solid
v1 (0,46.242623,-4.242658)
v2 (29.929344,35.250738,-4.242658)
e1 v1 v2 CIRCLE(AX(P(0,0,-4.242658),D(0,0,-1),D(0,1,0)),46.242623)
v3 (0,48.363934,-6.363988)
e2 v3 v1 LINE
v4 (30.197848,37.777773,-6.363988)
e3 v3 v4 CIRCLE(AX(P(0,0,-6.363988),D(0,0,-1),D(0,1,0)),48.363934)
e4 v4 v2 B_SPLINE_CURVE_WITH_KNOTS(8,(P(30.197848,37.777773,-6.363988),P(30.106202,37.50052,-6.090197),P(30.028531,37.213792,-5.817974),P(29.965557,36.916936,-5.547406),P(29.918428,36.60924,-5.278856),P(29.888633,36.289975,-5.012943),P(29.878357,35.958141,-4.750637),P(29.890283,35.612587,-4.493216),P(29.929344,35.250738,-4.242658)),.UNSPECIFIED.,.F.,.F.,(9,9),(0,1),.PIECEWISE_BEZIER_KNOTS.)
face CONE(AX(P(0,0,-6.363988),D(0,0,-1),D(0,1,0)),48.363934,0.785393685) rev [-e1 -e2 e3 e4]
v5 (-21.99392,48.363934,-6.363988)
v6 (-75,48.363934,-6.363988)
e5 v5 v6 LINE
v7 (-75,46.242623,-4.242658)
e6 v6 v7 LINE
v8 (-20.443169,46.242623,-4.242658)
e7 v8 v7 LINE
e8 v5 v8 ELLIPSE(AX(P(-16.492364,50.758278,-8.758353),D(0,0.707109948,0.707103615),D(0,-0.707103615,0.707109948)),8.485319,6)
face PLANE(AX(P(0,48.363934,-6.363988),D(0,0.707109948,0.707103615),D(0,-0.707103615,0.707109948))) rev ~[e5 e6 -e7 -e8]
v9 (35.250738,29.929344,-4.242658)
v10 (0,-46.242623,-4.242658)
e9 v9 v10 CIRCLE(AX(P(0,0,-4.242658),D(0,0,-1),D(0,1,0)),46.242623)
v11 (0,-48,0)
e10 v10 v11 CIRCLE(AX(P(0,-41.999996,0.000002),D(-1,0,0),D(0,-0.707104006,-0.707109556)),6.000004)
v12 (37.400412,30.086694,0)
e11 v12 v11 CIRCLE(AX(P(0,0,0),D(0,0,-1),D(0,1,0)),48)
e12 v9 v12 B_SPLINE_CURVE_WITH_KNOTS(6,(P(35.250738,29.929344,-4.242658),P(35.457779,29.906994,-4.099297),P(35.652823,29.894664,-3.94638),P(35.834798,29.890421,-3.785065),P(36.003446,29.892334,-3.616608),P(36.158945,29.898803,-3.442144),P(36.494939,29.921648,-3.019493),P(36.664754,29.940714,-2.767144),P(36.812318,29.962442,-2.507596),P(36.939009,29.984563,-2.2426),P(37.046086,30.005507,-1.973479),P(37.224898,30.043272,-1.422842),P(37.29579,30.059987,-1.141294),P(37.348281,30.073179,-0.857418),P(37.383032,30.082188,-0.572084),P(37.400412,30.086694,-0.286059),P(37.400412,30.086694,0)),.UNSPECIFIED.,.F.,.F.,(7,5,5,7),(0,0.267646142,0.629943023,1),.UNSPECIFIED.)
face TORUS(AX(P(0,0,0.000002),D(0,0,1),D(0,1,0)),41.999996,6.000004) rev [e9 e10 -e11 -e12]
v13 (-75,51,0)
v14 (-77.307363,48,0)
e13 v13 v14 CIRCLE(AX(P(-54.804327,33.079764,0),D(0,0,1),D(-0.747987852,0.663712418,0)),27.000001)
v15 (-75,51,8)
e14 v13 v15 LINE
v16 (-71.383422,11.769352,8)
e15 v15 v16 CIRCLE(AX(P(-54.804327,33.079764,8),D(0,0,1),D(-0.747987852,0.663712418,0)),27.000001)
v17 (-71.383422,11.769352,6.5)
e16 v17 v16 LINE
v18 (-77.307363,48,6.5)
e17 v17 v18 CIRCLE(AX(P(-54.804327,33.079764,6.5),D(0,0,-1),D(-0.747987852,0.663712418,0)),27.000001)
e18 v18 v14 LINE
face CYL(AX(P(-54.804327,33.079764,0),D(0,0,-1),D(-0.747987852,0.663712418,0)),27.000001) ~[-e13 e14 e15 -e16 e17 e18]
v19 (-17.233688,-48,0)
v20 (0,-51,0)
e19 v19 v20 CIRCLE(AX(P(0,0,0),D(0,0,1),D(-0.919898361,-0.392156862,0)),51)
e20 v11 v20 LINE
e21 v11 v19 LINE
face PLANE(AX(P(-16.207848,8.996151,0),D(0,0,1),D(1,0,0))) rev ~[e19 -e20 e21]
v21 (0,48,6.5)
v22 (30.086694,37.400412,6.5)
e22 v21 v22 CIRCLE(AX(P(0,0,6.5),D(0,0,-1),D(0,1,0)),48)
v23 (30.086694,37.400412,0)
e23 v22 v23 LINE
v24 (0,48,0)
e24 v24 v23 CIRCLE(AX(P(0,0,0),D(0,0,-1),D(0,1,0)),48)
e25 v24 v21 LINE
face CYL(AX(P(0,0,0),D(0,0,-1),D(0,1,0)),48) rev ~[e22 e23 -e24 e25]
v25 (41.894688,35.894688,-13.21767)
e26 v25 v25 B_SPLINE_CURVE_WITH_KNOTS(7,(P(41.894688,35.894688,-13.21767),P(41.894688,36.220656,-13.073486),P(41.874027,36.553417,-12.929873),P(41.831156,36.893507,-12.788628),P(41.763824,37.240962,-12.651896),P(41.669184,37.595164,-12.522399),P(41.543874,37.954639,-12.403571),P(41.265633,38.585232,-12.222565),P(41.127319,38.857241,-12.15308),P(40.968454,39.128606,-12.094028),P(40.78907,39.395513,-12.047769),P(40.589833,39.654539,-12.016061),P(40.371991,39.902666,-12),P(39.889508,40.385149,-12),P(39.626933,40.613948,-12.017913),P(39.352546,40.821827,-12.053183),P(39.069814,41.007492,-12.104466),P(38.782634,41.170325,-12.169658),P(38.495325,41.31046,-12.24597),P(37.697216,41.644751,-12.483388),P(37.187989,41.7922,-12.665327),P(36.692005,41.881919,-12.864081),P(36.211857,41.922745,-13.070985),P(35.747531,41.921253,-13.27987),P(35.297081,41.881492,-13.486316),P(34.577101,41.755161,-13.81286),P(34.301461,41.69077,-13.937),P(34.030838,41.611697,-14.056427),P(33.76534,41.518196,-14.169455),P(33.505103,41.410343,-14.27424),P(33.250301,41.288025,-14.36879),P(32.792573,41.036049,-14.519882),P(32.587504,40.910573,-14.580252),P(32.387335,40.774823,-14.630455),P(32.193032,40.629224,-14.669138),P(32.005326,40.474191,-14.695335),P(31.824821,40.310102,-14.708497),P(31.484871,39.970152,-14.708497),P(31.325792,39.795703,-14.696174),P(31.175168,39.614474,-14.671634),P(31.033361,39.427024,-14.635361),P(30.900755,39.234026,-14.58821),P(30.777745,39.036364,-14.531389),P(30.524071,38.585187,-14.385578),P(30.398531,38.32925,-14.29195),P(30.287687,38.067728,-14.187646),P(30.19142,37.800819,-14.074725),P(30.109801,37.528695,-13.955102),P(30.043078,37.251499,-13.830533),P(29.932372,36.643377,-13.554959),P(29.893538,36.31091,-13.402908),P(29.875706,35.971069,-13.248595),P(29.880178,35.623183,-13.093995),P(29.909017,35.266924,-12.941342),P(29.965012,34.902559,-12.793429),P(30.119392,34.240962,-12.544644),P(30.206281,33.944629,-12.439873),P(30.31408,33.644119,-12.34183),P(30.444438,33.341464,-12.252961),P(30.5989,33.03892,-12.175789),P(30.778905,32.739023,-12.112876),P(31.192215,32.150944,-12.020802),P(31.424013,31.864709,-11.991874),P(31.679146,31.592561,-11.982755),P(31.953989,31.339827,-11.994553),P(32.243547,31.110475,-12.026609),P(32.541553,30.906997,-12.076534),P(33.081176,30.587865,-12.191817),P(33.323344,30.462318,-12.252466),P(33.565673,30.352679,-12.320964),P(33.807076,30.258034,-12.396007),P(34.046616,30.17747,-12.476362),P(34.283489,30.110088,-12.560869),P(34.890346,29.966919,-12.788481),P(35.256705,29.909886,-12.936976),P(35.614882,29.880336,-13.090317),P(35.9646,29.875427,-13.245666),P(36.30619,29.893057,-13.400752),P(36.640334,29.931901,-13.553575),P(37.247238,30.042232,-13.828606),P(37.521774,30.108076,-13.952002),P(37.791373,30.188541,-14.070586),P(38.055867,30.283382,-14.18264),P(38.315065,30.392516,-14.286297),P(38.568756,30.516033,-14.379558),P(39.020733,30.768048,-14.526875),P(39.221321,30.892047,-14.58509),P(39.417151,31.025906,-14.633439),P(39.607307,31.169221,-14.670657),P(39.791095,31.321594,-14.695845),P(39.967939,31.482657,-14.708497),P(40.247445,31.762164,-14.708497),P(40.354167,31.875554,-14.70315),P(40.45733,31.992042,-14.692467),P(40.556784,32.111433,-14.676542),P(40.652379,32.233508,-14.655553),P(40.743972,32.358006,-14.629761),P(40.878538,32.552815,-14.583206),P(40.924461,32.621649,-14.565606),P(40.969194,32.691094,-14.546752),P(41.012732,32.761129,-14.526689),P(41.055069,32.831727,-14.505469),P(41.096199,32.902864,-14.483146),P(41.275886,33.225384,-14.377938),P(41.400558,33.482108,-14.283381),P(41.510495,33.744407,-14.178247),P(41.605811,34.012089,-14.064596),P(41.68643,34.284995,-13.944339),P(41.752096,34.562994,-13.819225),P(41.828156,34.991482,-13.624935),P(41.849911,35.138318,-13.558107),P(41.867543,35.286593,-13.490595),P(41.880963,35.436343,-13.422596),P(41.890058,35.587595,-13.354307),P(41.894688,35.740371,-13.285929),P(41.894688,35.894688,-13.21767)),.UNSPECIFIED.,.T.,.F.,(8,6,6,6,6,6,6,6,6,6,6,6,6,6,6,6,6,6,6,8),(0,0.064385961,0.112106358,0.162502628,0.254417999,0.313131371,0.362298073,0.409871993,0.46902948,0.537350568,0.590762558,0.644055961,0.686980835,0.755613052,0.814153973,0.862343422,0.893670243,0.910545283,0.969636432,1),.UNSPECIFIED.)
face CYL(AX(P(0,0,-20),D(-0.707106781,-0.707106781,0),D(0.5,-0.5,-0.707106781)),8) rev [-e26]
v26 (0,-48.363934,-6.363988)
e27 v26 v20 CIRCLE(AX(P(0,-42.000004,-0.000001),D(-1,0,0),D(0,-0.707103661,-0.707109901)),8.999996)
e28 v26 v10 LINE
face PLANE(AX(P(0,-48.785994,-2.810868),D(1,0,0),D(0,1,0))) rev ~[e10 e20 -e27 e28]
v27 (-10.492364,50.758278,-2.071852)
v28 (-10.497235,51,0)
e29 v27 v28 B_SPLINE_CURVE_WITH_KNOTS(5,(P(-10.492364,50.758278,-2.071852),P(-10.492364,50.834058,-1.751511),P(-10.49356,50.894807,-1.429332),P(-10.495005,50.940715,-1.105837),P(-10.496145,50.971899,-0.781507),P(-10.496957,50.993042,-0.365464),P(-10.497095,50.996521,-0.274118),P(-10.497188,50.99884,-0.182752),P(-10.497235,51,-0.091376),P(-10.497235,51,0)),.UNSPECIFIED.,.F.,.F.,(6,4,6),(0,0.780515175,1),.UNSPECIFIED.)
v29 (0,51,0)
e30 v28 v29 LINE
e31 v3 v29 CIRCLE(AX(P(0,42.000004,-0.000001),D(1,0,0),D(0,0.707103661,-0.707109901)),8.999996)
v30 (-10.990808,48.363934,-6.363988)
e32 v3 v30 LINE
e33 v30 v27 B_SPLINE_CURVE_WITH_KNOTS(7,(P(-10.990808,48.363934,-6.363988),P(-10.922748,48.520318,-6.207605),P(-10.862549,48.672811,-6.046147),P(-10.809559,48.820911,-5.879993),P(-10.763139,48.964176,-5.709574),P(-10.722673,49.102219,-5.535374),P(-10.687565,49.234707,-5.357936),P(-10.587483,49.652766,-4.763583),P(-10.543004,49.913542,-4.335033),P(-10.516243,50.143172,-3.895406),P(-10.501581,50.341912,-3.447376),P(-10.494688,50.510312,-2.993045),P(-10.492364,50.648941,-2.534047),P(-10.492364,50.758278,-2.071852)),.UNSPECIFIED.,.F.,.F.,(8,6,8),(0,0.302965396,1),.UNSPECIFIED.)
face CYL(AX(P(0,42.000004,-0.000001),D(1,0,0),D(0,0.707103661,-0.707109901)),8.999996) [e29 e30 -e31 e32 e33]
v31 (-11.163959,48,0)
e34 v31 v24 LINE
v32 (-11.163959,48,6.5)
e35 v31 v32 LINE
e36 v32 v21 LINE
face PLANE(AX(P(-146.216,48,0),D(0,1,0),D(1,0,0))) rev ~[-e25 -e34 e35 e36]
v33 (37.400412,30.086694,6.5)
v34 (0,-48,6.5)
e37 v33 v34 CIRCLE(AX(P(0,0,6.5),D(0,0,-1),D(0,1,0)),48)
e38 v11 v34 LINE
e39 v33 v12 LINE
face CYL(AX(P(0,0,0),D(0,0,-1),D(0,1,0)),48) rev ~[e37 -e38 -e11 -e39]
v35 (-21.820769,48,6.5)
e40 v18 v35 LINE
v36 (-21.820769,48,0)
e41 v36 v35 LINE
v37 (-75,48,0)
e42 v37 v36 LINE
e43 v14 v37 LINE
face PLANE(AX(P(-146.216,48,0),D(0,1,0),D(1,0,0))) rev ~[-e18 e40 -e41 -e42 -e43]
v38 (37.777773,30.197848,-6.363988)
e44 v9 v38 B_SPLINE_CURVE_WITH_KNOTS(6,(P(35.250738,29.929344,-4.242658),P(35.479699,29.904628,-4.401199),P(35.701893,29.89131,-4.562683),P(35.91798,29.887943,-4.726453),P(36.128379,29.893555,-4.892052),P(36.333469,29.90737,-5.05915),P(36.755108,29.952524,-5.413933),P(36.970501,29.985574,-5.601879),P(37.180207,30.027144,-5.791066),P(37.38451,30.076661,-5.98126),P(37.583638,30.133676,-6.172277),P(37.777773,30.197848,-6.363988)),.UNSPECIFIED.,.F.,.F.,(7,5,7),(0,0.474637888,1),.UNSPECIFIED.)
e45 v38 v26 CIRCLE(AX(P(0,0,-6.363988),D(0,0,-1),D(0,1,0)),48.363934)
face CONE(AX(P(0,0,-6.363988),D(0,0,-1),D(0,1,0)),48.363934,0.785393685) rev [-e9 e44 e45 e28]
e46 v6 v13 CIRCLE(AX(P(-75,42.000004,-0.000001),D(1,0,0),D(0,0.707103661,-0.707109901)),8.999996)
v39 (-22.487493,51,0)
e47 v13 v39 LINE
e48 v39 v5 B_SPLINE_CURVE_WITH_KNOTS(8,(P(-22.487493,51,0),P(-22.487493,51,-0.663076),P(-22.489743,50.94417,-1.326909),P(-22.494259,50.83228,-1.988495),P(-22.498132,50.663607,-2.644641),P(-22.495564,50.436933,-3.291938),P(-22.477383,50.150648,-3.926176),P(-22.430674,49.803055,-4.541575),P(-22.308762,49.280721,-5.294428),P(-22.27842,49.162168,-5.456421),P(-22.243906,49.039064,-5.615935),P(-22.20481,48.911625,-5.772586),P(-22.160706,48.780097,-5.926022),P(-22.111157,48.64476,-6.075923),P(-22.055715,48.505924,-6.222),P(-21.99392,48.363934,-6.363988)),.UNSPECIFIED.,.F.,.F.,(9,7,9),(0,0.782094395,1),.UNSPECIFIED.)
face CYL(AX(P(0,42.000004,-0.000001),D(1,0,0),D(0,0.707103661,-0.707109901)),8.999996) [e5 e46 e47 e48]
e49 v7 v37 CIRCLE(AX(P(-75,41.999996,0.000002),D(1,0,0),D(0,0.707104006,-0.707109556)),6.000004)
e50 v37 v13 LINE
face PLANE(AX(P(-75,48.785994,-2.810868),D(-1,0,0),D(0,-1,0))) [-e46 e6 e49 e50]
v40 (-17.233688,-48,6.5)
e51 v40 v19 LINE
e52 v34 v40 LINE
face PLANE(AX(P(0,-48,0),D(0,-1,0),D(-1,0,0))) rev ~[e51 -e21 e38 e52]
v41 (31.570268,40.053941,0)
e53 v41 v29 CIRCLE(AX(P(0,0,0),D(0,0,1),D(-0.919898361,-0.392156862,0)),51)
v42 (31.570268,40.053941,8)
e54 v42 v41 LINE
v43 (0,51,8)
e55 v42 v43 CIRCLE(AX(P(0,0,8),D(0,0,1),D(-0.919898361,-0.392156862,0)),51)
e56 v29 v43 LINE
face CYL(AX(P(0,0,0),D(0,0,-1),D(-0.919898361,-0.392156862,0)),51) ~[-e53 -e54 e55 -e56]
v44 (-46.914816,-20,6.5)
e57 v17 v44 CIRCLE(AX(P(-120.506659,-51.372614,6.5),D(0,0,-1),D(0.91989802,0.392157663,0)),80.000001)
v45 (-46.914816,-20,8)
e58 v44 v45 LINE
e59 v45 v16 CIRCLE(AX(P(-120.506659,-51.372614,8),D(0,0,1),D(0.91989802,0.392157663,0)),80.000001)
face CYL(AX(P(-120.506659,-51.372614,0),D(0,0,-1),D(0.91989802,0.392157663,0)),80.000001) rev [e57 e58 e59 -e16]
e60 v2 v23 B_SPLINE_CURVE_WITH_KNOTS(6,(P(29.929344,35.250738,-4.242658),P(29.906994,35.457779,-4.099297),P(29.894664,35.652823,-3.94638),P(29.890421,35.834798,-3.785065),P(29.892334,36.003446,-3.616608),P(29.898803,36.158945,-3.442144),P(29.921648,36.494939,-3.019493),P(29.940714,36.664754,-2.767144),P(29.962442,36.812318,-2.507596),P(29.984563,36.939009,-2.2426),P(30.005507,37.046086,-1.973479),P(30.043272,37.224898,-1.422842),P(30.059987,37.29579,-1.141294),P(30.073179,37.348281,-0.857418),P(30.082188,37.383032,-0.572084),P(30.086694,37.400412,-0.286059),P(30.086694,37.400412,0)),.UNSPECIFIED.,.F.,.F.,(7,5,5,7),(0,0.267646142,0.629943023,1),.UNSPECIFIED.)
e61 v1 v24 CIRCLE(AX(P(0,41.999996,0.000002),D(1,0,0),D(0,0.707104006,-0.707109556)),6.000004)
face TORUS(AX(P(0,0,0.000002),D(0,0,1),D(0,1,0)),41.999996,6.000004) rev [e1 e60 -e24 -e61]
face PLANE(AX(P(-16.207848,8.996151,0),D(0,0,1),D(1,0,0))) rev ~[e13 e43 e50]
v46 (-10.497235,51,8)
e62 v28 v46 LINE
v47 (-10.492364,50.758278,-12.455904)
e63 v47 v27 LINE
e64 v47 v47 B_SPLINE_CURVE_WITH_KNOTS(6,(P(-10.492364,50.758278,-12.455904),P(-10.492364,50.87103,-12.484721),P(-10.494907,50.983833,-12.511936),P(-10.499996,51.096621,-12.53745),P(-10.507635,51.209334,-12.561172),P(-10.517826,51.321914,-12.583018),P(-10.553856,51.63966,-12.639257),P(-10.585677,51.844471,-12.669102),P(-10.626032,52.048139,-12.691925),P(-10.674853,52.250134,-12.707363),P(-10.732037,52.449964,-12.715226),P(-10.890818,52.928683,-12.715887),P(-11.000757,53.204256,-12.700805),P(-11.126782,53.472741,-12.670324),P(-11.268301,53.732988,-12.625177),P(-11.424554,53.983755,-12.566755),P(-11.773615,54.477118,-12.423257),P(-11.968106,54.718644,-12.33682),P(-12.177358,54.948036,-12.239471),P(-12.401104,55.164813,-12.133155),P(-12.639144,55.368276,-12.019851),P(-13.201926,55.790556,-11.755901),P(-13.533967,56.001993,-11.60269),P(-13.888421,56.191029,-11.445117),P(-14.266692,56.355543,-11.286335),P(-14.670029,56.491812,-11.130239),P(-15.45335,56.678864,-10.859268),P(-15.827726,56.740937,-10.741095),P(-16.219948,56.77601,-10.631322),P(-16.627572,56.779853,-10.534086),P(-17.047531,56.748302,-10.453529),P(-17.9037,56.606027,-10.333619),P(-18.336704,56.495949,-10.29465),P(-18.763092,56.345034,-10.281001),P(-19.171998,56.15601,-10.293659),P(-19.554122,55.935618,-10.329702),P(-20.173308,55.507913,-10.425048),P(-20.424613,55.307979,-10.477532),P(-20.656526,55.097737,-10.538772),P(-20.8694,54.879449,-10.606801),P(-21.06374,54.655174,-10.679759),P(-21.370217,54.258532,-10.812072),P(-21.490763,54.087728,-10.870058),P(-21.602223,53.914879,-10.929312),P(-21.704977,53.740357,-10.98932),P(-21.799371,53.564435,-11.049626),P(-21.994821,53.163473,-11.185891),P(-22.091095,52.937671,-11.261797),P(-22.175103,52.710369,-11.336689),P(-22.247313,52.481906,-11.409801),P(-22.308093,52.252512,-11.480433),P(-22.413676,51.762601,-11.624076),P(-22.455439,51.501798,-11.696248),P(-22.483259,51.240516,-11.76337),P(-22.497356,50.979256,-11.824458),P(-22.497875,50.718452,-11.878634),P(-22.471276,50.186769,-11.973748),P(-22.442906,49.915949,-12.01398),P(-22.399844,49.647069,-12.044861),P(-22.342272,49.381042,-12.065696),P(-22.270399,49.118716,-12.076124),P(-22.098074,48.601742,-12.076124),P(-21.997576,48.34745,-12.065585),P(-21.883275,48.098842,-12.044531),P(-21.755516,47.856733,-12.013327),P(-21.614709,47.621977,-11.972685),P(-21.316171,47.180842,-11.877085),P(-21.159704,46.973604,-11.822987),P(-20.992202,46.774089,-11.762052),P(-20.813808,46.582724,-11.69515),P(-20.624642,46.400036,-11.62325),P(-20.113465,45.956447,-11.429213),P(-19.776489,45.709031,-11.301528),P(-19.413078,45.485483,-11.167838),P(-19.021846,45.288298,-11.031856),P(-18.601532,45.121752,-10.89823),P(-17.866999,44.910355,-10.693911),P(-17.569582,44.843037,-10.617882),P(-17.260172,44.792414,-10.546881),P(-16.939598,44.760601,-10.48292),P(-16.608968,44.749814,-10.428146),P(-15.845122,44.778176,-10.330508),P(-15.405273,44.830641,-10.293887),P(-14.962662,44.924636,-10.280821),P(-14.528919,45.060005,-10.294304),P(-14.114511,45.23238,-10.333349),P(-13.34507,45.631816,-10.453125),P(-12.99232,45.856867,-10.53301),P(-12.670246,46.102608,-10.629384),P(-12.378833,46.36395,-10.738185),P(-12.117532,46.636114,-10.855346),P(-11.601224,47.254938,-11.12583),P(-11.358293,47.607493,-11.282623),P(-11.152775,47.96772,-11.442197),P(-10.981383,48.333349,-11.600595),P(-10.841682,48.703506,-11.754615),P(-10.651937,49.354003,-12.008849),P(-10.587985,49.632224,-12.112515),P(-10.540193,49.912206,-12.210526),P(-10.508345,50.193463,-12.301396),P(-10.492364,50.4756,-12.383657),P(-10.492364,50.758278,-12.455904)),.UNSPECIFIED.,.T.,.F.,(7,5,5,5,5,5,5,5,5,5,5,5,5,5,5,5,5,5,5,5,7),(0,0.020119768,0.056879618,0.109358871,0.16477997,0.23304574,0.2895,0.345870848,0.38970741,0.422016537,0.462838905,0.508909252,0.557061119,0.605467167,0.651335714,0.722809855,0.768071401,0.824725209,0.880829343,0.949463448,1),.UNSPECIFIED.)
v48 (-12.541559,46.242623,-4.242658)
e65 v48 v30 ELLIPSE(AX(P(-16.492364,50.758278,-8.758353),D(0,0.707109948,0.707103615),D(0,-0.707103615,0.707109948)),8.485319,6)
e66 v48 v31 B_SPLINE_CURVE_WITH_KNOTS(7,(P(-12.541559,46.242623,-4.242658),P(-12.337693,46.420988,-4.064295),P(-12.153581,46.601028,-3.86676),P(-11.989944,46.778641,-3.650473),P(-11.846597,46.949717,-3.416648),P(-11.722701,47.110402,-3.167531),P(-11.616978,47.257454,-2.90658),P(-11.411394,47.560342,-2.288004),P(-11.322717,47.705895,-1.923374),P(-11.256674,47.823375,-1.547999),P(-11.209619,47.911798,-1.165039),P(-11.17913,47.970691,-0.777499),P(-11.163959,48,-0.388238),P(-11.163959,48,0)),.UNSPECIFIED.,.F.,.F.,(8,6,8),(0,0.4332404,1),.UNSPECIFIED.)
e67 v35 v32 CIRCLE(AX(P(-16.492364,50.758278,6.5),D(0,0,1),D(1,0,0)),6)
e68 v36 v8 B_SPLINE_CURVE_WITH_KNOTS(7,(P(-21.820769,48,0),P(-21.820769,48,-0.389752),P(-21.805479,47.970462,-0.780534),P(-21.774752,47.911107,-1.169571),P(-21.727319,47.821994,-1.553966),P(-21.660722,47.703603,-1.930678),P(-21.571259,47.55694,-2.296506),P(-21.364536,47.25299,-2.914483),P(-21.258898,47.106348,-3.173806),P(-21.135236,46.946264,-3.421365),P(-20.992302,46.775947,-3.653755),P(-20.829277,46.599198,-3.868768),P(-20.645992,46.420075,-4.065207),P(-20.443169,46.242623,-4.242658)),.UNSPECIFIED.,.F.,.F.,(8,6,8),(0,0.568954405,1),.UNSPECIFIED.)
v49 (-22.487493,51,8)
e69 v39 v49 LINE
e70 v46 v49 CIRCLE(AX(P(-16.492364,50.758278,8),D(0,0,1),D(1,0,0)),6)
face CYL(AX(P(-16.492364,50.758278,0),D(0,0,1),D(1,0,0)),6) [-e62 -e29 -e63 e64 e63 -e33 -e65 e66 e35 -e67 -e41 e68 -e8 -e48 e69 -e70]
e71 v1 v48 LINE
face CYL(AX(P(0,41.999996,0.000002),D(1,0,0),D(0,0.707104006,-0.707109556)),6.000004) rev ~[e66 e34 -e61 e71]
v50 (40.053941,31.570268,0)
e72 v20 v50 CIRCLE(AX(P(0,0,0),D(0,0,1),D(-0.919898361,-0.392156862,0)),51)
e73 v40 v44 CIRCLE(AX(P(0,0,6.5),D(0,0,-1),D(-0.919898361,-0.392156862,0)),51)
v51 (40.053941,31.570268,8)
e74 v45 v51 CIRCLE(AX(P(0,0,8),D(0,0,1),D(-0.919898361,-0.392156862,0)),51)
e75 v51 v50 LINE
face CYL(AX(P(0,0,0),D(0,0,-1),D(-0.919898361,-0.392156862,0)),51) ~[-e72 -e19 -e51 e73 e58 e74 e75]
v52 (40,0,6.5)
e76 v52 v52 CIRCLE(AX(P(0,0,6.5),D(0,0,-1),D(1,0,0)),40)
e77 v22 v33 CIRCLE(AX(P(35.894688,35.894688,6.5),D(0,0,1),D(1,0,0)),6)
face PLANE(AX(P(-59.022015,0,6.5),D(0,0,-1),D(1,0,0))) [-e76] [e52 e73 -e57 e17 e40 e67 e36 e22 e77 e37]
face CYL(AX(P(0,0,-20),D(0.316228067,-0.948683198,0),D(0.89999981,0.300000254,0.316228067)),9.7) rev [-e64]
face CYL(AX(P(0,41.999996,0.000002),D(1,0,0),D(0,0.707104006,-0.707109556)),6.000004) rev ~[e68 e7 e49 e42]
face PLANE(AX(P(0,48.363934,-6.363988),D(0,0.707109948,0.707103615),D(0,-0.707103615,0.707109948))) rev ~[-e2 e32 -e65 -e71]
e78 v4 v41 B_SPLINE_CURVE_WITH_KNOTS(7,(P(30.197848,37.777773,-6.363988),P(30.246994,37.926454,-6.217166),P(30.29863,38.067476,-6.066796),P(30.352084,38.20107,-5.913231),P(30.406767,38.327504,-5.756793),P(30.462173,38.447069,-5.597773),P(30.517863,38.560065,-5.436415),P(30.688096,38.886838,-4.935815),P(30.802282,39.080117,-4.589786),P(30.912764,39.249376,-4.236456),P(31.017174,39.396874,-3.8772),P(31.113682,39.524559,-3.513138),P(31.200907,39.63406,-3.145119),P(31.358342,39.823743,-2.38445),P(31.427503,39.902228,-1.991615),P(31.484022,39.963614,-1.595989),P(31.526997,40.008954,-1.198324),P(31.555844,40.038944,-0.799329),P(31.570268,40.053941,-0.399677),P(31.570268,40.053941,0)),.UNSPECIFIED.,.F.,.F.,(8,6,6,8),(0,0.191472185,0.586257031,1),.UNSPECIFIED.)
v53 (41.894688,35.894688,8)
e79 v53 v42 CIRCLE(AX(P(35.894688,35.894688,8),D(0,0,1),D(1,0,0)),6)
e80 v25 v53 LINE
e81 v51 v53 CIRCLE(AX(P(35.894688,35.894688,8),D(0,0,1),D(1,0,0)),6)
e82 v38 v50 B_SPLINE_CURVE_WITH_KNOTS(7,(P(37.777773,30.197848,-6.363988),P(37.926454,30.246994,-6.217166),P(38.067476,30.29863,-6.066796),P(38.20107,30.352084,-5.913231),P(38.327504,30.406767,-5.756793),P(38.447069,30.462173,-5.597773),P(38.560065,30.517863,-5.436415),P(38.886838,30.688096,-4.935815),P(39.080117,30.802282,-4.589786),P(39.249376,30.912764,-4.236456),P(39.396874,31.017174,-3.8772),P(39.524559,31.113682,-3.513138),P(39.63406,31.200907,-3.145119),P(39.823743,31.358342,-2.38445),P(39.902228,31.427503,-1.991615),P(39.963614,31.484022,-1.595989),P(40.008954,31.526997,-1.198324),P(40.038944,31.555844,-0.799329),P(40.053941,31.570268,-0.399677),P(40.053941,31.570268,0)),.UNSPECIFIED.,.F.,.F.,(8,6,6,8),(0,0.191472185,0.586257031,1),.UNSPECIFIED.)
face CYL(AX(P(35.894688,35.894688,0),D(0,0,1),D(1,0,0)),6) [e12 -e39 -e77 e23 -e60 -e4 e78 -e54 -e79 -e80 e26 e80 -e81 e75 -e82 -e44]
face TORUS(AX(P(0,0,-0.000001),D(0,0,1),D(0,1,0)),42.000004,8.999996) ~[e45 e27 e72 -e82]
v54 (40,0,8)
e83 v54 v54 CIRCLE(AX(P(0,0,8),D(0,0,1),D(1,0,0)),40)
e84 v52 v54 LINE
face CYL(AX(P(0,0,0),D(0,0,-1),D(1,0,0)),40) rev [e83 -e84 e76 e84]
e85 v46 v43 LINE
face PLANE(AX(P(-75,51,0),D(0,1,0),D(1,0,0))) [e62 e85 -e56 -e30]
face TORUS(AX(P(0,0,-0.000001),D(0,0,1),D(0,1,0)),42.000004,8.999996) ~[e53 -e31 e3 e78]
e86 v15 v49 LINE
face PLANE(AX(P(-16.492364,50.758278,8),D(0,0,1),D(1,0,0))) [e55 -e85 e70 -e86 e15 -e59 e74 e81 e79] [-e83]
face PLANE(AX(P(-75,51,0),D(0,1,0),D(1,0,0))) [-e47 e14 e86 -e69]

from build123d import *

# Parameters (mm, degrees)
CYLINDER_R                  = 9.7
CYLINDER_DEPTH              = 100
CYLINDER_ROLL_ANGLE         = -90
CYLINDER_PITCH_ANGLE        = -18.434967
CYLINDER_PLACEMENT_ANGLE    = 18.434967
CYLINDER001_R               = 8
CYLINDER001_DEPTH           = 100
CYLINDER001_ROLL_ANGLE      = -90
CYLINDER001_PITCH_ANGLE     = 45
CYLINDER001_PLACEMENT_ANGLE = -45
REVOLUTION_ANGLE            = -180
SKETCH005_R                 = 6
PAD001_DEPTH                = 8
PAD001_DEPTH_BACK           = 25
PAD002_DEPTH                = 75
SKETCH_R                    = 40
PAD_DEPTH                   = 8
POCKET_DEPTH                = 6.5


with BuildPart() as cylinder:
    # Cylinder → Cylinder (new body)
    with BuildSketch(Plane.XY):
        Circle(CYLINDER_R)
    extrude(amount=CYLINDER_DEPTH)


with BuildPart() as cylinder_1:
    # Cylinder roll: moved
    add(cylinder.part.rotate(Axis((0, 0, 0), (1, 0, 0)), CYLINDER_ROLL_ANGLE))


with BuildPart() as cylinder_2:
    # Cylinder pitch: moved
    add(cylinder_1.part.rotate(Axis((0, 0, 0), (0, 1, 0)), CYLINDER_PITCH_ANGLE))


with BuildPart() as cylinder_3:
    # Cylinder placement: moved
    add(cylinder_2.part.moved(Location((0, 0, -20))).rotate(Axis((0, 0, -20), (0, 0, 1)), CYLINDER_PLACEMENT_ANGLE))


with BuildPart() as fusion001:
    # Cylinder001 → Cylinder001 (new body)
    with BuildSketch(Plane.XY):
        Circle(CYLINDER001_R)
    extrude(amount=CYLINDER001_DEPTH)


with BuildPart() as fusion001_1:
    # Cylinder001 roll: moved
    add(fusion001.part.rotate(Axis((0, 0, 0), (1, 0, 0)), CYLINDER001_ROLL_ANGLE))


with BuildPart() as fusion001_2:
    # Cylinder001 pitch: moved
    add(fusion001_1.part.rotate(Axis((0, 0, 0), (0, 1, 0)), CYLINDER001_PITCH_ANGLE))


with BuildPart() as fusion001_3:
    # Cylinder001 placement: moved
    add(fusion001_2.part.moved(Location((0, 0, -20))).rotate(Axis((0, 0, -20), (0, 0, 1)), CYLINDER001_PLACEMENT_ANGLE))

    # Fusion001: union Cylinder
    add(cylinder_3.part)


with BuildPart() as revolution:
    # Sketch004 → Revolution (revolve)
    with BuildSketch(Plane.YZ):
        with BuildLine():
            Line((48.363934, -6.363988), (46.242623, -4.242658))
            ThreePointArc((46.242623, -4.242658), (47.543272, -2.296112), (48, 0))
            Line((48, 0), (51, 0))
            ThreePointArc((48.363934, -6.363988), (50.314909, -3.444168), (51, 0))
        make_face()
    revolve(axis=Axis((0, 0, 0), (0, 0, 1)), revolution_arc=REVOLUTION_ANGLE)


with BuildPart() as pad001:
    # Sketch005 → Pad001 (new body, two sides)
    with BuildSketch(Plane.XY) as pad001_sk:
        with Locations((-16.492364, 50.758278)):
            Circle(SKETCH005_R)
        with Locations((35.894688, 35.894688)):
            Circle(SKETCH005_R)
    extrude(amount=PAD001_DEPTH)
    extrude(pad001_sk.sketch, amount=-PAD001_DEPTH_BACK)


with BuildPart() as pad002:
    # Sketch006 → Pad002 (new body)
    with BuildSketch(Plane.YZ):
        with BuildLine():
            Line((48.363934, -6.363988), (46.242623, -4.242658))
            ThreePointArc((46.242623, -4.242658), (47.543272, -2.296112), (48, 0))
            Line((48, 0), (51, 0))
            ThreePointArc((48.363934, -6.363988), (50.314909, -3.444168), (51, 0))
        make_face()
    extrude(amount=-PAD002_DEPTH)


with BuildPart() as cut:
    # Sketch → Pad (new body)
    with BuildSketch(Plane.XY):
        with BuildLine():
            ThreePointArc((-46.914816, -20), (42.549971, -28.115832), (0, 51))
            Line((-75, 51), (0, 51))
            ThreePointArc((-75, 51), (-81.690324, 30.60121), (-71.383422, 11.769352))
            ThreePointArc((-46.914816, -20), (-57.126294, -2.557354), (-71.383422, 11.769352))
        make_face()
        Circle(SKETCH_R, mode=Mode.SUBTRACT)
    extrude(amount=PAD_DEPTH)

    # Sketch001 → Pocket (cut)
    with BuildSketch(Plane(origin=(0, 0, 0), x_dir=(1, 0, 0), z_dir=(0, 0, -1))):
        with BuildLine():
            Line((-146.216, -48), (0, -48))
            ThreePointArc((0, -48), (48, 0), (0, 48))
            Line((0, 48), (-146.216, 48))
            Line((-146.216, -48), (-146.216, 48))
        make_face()
    extrude(amount=-POCKET_DEPTH, mode=Mode.SUBTRACT)

    # Fusion: union Revolution, Pad001, Pad002
    add(revolution.part)
    add(pad001.part)
    add(pad002.part)

    # Cut: cut Fusion001
    add(fusion001_3.part, mode=Mode.SUBTRACT)


solid = cut.part
